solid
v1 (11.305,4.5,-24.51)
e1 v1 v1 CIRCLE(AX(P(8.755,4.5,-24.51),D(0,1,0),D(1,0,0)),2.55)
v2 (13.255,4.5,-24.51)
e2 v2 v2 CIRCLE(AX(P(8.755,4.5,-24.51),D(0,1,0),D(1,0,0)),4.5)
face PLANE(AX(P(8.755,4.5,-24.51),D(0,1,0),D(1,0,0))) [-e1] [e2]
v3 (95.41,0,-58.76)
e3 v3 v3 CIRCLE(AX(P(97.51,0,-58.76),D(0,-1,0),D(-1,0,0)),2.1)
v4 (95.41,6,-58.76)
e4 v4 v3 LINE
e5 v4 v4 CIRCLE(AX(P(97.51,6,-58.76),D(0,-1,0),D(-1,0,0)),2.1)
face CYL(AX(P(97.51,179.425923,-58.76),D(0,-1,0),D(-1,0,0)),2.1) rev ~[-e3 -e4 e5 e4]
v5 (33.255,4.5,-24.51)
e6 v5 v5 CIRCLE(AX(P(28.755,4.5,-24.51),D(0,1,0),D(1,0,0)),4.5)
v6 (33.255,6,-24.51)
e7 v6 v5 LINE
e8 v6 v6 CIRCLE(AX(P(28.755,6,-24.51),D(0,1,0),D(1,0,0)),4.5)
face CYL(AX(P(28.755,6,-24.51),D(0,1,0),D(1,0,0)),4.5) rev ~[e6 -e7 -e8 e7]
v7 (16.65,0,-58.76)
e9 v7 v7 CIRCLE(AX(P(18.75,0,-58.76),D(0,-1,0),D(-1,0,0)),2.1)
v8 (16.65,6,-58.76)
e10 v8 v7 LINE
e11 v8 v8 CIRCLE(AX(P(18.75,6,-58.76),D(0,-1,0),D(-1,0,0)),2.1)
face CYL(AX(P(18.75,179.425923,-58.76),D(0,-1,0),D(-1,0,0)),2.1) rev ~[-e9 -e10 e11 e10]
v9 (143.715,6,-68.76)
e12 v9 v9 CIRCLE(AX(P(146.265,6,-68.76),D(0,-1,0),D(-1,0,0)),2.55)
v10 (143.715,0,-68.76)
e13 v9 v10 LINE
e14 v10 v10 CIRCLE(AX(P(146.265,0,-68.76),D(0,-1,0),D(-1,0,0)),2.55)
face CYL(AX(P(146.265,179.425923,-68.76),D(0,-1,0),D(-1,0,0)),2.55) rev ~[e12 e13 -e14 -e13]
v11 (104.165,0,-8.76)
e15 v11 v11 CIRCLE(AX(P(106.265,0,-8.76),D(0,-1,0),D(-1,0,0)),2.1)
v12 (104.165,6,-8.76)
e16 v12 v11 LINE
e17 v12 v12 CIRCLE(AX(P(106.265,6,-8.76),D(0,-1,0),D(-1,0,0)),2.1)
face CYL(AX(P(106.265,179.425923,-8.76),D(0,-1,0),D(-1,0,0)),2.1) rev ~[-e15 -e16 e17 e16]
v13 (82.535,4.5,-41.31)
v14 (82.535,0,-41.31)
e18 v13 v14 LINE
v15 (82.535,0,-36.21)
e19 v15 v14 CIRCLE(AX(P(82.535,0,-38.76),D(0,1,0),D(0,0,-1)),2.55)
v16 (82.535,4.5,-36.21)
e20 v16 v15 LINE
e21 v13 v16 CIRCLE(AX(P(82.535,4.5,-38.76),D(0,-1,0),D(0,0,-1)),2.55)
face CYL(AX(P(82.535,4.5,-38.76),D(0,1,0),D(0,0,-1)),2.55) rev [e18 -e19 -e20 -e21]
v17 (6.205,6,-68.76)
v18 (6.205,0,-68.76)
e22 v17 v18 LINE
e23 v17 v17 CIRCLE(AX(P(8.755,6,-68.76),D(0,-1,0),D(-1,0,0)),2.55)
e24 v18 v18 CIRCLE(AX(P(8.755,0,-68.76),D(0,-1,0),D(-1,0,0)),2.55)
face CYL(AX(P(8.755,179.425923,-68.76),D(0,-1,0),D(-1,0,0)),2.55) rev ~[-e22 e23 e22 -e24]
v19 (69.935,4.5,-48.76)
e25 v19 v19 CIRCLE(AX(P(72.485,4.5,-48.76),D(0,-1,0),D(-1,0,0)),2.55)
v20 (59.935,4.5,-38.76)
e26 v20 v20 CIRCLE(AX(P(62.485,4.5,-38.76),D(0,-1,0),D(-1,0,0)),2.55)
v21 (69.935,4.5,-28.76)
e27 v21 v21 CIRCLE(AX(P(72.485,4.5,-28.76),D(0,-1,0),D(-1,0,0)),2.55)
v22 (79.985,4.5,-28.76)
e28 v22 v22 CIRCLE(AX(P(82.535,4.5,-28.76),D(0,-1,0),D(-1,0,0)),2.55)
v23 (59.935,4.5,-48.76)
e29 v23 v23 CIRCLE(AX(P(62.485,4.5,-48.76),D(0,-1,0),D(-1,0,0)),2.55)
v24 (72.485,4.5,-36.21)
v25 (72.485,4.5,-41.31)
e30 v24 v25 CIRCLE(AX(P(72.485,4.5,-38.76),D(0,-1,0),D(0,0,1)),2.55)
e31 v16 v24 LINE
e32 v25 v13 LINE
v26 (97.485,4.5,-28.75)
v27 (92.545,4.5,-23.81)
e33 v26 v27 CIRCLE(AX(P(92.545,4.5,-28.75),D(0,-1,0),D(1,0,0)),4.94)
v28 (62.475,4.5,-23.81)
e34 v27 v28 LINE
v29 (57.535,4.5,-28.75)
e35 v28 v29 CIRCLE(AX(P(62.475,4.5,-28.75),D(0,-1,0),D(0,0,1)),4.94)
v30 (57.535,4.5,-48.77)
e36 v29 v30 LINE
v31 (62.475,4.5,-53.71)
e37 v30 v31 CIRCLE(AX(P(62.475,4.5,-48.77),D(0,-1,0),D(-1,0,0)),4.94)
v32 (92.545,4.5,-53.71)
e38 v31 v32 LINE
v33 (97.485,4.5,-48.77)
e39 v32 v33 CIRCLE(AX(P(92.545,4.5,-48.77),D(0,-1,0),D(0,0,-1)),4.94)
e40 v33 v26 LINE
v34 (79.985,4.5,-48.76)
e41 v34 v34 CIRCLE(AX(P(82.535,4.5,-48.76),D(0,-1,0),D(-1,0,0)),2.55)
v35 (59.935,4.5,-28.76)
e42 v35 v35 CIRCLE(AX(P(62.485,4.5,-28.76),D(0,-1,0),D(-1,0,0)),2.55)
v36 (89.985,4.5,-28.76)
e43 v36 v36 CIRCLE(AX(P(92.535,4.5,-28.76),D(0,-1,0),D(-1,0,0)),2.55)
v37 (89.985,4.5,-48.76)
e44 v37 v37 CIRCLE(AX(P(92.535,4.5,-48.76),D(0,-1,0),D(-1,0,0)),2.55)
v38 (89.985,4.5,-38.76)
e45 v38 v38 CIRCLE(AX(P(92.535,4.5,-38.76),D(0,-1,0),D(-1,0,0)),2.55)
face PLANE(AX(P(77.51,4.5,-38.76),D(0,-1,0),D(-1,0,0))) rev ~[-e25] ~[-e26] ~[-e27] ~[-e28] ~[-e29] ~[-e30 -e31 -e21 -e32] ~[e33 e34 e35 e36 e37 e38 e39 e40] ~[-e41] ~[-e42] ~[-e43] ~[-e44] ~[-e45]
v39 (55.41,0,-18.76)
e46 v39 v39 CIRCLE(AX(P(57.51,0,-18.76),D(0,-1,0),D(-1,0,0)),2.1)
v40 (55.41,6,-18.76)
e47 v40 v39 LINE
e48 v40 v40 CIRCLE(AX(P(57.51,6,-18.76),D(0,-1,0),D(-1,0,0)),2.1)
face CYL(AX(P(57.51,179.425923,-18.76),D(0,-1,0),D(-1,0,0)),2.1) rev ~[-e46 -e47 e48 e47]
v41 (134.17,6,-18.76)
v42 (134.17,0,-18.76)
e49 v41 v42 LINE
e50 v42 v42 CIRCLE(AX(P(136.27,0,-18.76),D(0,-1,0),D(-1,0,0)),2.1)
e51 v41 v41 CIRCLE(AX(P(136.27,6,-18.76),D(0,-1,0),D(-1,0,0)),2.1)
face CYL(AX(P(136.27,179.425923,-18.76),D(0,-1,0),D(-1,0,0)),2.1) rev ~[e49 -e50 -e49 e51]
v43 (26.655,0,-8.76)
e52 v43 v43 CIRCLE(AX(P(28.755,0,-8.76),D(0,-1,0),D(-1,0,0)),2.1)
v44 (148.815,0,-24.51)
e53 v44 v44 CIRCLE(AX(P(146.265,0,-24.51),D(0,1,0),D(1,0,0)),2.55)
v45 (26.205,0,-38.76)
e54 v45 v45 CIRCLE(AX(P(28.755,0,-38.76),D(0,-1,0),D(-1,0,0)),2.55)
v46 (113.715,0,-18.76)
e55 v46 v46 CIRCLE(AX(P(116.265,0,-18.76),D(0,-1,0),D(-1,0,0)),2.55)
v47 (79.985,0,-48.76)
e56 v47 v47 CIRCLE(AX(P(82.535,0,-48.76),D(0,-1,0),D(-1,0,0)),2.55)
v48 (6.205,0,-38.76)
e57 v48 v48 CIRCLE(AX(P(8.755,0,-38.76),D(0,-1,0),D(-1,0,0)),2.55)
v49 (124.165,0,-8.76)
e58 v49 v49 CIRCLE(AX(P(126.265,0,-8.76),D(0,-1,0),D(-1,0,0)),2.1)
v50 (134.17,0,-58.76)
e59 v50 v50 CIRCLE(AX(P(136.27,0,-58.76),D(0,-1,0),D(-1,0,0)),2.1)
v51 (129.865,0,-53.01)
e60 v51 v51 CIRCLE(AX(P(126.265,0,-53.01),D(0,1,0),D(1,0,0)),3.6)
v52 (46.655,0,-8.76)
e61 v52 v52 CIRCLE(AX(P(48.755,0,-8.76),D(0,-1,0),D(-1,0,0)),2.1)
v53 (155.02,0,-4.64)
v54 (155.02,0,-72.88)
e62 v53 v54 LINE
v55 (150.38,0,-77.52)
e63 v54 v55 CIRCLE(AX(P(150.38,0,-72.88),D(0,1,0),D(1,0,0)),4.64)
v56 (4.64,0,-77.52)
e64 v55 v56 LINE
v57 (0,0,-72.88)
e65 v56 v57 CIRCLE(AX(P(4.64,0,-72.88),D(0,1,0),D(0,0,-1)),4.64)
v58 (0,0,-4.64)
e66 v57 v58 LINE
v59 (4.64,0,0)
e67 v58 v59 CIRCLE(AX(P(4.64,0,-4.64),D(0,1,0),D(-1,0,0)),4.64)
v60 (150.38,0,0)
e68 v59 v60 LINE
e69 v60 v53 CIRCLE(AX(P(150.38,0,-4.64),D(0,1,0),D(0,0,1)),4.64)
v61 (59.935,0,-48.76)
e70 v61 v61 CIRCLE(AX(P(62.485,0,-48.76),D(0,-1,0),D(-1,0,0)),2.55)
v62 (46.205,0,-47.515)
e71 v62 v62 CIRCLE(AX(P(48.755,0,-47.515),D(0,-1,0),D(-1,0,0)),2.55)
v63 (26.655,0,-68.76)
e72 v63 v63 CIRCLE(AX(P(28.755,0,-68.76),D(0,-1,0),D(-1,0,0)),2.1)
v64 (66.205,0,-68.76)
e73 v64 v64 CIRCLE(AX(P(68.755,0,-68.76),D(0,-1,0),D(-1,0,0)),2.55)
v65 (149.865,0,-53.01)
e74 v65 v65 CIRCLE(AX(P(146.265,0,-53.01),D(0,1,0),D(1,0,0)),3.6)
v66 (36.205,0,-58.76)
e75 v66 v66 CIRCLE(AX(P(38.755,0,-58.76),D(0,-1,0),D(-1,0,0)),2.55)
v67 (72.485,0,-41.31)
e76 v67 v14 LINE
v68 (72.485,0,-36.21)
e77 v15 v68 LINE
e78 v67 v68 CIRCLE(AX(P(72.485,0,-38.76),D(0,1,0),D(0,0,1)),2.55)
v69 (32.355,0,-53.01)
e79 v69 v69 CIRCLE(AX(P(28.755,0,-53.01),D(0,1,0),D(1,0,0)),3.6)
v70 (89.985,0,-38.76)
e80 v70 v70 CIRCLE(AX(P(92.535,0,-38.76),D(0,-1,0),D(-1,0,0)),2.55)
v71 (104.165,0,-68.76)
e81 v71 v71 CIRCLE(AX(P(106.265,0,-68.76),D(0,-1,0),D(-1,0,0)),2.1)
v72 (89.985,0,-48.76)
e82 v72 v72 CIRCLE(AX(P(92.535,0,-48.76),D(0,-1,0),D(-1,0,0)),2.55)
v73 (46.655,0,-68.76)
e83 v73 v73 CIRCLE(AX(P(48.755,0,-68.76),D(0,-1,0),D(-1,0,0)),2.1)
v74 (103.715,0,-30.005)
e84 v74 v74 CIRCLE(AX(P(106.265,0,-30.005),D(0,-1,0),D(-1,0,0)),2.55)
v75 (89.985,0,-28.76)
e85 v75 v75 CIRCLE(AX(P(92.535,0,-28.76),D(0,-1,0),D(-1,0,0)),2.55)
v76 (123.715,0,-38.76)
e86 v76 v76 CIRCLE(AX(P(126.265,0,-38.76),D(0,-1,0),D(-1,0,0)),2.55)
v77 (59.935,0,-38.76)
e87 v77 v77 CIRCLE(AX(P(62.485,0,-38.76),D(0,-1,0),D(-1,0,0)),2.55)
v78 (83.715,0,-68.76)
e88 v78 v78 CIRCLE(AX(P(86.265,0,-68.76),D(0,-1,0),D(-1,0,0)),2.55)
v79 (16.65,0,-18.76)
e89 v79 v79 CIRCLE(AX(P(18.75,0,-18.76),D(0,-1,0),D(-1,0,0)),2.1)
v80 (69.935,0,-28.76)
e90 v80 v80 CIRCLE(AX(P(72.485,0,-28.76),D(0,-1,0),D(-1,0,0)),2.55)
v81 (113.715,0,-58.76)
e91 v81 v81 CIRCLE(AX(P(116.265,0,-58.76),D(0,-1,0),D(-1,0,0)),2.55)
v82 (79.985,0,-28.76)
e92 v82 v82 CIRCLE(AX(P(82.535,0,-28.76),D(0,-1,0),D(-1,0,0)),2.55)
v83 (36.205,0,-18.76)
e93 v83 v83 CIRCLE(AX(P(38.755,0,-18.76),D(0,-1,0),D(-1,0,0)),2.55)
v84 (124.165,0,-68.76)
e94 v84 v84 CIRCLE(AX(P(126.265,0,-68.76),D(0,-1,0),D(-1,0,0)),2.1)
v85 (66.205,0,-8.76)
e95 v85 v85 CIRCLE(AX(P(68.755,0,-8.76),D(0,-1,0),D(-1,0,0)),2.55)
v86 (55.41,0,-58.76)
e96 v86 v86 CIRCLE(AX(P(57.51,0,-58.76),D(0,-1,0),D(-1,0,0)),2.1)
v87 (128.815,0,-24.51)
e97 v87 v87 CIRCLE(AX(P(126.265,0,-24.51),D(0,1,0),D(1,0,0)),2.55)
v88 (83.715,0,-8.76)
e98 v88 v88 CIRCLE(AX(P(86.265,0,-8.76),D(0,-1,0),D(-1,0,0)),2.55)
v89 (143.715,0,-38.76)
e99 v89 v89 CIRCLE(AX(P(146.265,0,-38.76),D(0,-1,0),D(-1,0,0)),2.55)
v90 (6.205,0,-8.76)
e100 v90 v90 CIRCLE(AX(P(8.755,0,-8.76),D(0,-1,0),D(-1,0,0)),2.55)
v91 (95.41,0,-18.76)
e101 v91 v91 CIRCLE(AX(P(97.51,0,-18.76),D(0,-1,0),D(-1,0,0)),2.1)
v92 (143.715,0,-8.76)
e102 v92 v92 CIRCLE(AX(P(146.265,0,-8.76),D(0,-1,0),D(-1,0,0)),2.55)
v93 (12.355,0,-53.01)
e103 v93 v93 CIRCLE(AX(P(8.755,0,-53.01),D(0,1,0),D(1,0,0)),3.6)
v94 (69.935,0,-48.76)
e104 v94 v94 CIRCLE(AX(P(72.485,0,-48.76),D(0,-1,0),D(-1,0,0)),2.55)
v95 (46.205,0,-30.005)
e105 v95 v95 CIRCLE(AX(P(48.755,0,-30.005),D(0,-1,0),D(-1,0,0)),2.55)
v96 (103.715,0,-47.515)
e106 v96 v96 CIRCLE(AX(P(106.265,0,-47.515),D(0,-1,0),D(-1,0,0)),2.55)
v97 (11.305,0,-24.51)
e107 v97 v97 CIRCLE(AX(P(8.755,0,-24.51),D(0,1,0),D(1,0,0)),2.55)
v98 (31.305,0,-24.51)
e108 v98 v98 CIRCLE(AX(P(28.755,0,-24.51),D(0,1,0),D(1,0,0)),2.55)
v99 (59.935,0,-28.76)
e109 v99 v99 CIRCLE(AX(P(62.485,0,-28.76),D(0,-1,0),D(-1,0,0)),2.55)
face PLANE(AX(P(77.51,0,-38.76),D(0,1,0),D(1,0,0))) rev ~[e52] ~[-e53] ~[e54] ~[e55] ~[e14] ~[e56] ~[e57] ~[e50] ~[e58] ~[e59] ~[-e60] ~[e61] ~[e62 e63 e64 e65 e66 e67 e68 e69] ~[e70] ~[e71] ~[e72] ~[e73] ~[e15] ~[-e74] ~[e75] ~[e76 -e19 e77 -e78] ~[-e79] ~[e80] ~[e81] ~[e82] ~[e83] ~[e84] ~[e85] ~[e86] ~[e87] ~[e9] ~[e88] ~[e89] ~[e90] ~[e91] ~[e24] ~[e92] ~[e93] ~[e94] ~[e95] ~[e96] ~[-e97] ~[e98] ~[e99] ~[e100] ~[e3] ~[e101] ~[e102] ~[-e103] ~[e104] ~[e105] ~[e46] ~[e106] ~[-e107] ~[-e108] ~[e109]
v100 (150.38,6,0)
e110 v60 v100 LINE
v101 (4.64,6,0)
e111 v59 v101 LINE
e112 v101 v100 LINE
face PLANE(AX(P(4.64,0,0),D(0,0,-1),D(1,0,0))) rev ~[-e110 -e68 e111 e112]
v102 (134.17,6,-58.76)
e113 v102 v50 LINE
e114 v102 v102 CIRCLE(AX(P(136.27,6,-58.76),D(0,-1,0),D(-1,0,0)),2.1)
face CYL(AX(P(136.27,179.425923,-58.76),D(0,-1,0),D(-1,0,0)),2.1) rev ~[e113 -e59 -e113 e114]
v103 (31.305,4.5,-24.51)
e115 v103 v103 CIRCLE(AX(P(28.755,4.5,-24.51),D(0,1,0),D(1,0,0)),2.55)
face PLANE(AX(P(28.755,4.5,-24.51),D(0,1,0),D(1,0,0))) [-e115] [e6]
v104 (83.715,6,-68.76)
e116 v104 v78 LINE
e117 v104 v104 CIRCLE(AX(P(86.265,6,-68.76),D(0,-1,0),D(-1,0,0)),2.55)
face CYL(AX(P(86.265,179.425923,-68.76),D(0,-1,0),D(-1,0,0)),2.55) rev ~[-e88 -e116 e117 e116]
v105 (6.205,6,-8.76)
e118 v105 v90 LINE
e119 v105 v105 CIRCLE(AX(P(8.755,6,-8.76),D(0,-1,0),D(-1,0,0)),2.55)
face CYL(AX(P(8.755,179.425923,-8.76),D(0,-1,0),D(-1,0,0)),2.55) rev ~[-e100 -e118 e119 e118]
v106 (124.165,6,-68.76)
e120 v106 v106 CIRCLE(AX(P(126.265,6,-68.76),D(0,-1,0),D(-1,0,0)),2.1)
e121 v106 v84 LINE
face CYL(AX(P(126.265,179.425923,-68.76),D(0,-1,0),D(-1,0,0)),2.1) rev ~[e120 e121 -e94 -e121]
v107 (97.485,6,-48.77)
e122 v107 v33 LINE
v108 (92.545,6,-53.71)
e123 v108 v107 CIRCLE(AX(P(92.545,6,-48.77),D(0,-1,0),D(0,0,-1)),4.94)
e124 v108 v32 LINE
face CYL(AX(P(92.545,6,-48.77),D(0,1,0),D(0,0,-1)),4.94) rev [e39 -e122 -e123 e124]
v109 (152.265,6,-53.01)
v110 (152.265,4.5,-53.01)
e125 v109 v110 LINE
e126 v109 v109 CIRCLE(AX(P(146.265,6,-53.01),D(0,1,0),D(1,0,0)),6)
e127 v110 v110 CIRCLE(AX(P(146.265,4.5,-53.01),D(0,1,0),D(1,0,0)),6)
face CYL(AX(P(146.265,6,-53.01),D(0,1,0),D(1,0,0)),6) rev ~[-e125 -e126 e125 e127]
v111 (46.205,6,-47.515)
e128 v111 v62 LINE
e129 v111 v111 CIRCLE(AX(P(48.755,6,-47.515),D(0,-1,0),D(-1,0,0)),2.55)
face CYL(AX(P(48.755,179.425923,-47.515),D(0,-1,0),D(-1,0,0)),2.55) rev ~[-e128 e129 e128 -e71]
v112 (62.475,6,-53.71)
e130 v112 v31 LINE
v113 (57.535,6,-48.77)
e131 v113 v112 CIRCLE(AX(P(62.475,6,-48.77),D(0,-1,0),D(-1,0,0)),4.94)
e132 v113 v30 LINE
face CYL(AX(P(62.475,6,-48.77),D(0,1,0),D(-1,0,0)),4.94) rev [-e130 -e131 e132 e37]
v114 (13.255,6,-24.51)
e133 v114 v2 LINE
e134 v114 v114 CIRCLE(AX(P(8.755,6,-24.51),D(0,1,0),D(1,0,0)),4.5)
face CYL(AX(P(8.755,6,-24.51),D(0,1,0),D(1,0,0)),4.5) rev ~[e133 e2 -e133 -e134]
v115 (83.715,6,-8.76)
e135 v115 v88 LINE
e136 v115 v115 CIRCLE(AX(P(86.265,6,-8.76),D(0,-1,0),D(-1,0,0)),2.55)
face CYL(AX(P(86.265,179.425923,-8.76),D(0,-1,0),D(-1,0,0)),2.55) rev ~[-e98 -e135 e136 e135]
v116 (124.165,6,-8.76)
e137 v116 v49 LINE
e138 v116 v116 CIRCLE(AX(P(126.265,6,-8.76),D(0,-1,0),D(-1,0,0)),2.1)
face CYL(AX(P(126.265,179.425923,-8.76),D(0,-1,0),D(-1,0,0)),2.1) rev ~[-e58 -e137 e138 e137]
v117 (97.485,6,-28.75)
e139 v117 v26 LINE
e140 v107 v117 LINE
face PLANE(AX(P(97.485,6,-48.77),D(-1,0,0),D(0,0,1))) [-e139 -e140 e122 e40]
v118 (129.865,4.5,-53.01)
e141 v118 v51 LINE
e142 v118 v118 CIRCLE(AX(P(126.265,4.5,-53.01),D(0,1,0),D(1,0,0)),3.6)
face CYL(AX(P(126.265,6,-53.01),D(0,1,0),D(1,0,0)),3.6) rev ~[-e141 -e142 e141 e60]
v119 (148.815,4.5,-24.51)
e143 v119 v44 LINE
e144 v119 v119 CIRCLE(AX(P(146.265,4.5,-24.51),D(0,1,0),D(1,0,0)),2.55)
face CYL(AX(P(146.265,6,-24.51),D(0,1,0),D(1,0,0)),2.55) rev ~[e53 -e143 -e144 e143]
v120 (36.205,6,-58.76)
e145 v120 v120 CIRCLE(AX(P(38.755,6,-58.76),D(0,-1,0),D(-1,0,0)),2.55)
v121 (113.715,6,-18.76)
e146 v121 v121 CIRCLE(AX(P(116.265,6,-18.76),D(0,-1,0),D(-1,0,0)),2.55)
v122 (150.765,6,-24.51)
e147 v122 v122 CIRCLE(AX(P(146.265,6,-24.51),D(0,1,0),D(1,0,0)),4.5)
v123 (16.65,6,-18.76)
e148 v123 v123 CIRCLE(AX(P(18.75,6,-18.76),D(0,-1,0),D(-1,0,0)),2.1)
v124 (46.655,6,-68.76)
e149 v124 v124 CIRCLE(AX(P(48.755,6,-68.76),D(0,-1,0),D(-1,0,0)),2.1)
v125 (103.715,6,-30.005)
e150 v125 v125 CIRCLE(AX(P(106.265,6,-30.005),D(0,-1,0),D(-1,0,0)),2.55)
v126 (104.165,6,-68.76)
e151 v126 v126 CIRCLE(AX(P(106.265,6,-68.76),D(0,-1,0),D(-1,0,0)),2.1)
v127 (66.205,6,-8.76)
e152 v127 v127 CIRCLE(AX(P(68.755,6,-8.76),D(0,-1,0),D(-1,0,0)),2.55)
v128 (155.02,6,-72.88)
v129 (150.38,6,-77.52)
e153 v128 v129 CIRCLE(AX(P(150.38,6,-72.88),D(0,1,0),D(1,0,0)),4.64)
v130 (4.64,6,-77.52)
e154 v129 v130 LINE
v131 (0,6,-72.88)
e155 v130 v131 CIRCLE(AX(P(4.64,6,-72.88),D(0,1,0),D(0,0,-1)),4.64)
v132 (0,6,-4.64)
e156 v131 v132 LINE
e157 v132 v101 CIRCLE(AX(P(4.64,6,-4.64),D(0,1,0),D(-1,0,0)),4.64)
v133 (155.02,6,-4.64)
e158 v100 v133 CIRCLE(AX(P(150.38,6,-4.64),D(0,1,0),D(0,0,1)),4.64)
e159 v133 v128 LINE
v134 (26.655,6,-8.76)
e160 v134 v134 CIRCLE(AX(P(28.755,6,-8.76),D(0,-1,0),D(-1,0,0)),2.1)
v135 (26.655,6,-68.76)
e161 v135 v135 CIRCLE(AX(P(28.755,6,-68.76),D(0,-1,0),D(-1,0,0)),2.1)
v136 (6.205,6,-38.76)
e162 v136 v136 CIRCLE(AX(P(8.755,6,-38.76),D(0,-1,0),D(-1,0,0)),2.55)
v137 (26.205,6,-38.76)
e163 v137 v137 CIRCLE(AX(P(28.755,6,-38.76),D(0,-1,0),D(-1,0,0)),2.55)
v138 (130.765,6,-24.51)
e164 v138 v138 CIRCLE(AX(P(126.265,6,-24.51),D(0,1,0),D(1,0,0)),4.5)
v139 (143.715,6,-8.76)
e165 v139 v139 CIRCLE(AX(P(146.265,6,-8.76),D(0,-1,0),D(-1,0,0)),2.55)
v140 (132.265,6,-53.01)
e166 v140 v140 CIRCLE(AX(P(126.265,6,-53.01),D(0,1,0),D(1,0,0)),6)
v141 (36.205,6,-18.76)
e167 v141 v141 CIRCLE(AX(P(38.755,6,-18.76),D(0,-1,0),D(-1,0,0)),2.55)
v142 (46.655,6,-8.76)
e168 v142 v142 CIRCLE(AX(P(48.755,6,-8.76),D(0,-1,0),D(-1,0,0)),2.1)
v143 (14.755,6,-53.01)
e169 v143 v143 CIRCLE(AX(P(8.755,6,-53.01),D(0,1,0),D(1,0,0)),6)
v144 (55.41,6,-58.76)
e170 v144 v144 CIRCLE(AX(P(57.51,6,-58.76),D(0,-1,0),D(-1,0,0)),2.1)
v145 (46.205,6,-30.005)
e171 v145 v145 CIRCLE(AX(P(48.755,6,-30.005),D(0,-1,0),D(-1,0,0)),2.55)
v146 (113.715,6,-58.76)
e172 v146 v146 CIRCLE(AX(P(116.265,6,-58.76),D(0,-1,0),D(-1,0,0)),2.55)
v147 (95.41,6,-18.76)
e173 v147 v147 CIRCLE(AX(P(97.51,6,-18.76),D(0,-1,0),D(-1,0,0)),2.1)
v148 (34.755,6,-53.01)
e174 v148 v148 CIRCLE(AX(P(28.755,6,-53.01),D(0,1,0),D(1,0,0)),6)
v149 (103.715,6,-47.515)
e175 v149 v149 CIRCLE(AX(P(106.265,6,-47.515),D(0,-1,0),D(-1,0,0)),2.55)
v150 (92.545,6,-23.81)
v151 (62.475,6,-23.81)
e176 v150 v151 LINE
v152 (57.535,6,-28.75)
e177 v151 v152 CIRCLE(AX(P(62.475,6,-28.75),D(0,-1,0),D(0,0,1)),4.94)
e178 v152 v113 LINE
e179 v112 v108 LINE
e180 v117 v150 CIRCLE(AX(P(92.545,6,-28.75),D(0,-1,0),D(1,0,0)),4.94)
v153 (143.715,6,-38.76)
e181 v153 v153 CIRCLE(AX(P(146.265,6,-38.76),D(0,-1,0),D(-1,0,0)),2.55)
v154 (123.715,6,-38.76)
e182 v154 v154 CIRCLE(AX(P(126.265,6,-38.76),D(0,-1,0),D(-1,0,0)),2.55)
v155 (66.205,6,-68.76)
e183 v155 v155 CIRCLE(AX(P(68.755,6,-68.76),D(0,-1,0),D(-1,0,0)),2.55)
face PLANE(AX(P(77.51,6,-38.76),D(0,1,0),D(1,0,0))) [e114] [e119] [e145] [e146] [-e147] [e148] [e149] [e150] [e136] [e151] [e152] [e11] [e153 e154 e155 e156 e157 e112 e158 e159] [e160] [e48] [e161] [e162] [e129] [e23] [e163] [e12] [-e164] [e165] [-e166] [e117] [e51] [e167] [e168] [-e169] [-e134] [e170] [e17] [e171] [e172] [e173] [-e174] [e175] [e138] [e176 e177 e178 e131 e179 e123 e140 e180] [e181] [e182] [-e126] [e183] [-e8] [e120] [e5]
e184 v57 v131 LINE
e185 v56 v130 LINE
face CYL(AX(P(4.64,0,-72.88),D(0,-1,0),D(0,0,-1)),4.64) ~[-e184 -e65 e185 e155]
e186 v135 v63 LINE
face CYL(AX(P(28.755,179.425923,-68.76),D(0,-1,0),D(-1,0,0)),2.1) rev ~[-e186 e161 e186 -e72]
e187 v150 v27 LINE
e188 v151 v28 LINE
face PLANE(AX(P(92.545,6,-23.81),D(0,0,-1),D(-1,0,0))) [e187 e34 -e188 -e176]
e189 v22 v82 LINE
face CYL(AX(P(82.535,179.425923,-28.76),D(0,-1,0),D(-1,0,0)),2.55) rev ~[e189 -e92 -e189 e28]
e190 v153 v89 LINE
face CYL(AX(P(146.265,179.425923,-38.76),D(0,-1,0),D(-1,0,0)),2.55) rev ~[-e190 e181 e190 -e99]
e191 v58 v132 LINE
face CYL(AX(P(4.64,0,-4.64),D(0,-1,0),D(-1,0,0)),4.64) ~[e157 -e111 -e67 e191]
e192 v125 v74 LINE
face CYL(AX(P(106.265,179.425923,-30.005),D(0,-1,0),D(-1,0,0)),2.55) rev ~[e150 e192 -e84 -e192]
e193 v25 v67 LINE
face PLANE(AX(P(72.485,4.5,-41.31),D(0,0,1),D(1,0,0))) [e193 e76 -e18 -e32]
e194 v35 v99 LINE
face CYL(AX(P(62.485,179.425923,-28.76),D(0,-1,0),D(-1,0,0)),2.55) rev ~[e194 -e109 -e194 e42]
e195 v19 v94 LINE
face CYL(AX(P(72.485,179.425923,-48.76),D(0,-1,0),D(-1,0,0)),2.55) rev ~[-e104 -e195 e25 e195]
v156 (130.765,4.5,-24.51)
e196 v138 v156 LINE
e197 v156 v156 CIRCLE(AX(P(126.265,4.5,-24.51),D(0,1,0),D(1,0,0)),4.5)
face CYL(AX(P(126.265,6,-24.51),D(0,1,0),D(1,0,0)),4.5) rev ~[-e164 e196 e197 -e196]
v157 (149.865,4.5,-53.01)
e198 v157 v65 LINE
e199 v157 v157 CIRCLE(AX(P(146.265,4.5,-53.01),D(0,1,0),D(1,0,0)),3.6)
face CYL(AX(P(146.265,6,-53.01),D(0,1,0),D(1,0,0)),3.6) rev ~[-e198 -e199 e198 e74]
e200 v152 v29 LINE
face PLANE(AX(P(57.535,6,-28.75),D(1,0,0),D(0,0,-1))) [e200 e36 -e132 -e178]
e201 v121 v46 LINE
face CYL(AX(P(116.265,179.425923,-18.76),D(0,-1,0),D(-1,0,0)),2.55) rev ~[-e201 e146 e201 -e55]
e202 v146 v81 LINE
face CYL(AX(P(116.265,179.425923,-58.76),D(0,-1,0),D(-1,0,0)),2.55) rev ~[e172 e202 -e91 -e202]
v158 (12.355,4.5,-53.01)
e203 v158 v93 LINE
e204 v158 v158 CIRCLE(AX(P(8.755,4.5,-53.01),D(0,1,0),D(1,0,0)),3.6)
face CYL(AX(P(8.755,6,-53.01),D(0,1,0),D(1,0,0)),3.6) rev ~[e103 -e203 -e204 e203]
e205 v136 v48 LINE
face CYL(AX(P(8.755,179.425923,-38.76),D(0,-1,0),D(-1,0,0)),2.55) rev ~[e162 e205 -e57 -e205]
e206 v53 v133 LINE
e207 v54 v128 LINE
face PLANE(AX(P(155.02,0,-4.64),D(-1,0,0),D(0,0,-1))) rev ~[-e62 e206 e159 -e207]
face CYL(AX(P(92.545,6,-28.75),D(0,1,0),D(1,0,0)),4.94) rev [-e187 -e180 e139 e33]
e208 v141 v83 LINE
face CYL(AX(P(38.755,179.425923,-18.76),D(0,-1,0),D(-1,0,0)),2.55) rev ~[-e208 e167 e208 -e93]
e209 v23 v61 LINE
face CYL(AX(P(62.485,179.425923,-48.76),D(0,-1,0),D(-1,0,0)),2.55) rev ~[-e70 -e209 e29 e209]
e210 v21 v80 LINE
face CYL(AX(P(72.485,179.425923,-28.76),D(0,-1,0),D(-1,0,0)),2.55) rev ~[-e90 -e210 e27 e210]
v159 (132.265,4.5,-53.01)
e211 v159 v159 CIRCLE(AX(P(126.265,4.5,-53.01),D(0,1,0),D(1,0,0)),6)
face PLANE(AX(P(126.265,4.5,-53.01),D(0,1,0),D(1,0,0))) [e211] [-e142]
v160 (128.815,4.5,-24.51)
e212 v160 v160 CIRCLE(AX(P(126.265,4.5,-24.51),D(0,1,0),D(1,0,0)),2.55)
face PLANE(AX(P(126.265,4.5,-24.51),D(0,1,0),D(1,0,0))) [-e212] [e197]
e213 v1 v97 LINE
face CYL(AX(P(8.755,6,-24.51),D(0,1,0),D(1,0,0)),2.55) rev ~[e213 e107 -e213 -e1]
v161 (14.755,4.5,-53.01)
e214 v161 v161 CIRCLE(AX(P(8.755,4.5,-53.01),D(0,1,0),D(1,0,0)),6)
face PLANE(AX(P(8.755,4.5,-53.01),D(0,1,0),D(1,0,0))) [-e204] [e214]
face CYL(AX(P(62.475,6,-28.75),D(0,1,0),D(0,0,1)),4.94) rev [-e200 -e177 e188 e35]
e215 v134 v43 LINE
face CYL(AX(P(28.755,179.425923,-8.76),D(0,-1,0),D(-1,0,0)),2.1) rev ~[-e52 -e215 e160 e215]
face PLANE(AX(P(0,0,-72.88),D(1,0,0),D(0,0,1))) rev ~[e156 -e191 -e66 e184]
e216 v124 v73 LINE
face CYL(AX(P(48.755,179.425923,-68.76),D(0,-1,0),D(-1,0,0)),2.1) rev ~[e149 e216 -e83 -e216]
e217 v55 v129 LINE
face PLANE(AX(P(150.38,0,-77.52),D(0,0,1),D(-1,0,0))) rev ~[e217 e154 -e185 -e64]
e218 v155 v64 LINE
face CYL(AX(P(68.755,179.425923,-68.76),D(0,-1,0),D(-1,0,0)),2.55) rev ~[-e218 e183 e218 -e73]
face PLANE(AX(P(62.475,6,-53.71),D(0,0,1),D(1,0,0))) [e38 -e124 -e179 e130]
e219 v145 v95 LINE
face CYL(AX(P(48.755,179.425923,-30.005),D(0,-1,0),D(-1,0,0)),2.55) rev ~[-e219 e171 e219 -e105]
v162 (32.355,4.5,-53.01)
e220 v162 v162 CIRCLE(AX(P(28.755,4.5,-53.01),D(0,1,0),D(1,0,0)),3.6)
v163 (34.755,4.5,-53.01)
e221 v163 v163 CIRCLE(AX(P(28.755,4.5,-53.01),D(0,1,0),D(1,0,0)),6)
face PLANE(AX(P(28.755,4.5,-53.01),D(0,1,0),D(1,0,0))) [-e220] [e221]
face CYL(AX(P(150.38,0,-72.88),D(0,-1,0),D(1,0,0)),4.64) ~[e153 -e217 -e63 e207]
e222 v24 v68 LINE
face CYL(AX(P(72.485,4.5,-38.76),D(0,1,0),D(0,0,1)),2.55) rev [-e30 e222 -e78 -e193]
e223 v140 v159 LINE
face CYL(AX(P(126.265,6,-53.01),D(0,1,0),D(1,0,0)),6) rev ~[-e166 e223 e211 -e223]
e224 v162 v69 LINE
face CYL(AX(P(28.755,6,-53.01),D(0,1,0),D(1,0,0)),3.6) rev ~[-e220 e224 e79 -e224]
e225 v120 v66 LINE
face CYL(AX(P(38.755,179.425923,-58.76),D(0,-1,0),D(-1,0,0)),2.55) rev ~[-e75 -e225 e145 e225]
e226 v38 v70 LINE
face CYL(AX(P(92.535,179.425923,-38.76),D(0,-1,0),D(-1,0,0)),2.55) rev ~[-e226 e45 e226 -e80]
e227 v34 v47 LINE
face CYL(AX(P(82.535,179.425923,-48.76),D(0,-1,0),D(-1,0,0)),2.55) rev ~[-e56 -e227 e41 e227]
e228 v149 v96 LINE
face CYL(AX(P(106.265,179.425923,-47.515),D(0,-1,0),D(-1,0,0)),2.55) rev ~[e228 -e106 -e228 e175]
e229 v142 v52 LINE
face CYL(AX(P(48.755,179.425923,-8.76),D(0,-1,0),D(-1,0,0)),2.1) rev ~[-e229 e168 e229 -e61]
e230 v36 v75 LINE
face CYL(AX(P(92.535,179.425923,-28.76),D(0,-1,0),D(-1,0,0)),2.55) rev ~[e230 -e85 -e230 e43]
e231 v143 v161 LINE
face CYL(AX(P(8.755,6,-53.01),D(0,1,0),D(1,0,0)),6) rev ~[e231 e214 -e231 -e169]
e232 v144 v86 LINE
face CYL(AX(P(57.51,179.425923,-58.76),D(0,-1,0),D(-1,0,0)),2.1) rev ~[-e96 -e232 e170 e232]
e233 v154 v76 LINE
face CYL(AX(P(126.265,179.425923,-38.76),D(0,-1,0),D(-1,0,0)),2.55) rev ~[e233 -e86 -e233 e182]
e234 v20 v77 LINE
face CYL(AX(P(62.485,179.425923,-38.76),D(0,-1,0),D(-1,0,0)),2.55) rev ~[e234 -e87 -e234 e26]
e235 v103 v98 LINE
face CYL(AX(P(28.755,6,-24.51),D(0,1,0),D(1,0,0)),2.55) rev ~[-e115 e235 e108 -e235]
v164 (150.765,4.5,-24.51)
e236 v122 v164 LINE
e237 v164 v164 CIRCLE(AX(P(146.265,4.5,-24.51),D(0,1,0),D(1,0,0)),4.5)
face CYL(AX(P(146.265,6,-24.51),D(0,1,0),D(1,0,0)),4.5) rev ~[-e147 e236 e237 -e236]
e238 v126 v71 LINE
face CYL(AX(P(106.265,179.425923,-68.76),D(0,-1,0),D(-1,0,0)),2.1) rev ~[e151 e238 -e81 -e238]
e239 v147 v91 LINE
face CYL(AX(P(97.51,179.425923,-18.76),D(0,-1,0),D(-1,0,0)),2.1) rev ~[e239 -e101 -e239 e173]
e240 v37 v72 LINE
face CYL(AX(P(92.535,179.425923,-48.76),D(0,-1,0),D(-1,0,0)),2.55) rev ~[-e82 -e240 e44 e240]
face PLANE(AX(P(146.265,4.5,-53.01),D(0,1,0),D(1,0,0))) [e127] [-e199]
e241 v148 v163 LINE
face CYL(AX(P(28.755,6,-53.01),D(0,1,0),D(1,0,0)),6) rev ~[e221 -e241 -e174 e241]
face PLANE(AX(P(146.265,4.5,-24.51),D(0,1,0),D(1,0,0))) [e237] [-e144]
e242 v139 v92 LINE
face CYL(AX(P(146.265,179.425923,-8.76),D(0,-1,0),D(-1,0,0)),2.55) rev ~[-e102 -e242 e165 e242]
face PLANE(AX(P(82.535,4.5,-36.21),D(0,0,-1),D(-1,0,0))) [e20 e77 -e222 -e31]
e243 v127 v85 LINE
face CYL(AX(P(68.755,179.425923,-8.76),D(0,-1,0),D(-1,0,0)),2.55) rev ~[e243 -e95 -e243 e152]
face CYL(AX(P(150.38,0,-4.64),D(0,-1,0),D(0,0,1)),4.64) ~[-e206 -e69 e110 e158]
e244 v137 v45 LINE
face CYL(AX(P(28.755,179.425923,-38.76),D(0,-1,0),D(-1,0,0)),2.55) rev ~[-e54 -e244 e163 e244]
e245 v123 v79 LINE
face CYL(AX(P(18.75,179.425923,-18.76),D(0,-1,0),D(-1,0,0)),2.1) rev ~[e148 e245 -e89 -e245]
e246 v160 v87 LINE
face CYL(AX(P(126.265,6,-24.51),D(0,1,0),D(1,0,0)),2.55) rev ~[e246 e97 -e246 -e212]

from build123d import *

# Parameters (mm, degrees)
BOSS_EXTRUDE1_DEPTH        = 6
F_5_1_5_1_DIAMETER_HOLE1_D = 5.1
M5X0_8_TAPPED_HOLE1_D      = 4.2
SKETCH6_R                  = 3.6
SKETCH6_R_2                = 2.55
CUT_EXTRUDE1_DEPTH         = 7
SKETCH7_R                  = 6
SKETCH7_R_2                = 4.5
CUT_EXTRUDE2_DEPTH         = 1.5
CUT_EXTRUDE3_DEPTH         = 5.5


with BuildPart() as part:
    # Sketch1 → Boss-Extrude1 (new body)
    with BuildSketch(Plane(origin=(0, 0, 0), x_dir=(1, 0, 0), z_dir=(0, 1, 0))):
        with BuildLine():
            Line((4.64, 0), (150.38, 0))
            ThreePointArc((150.38, 0), (153.660975465, 1.359024535), (155.02, 4.64))
            Line((155.02, 4.64), (155.02, 72.88))
            ThreePointArc((155.02, 72.88), (153.660975465, 76.160975465), (150.38, 77.52))
            Line((150.38, 77.52), (4.64, 77.52))
            ThreePointArc((4.64, 77.52), (1.359024535, 76.160975465), (0, 72.88))
            Line((0, 72.88), (0, 4.64))
            ThreePointArc((0, 4.64), (1.359024535, 1.359024535), (4.64, 0))
        make_face()
    extrude(amount=BOSS_EXTRUDE1_DEPTH)

    # Ø5.1 (5.1) Diameter Hole1 (through all)
    with Locations(Plane(origin=(0, 6, 0), x_dir=(1, 0, 0), z_dir=(0, 1, 0))):
        with Locations((8.755, 68.76), (8.755, 38.76), (28.755, 38.76), (38.755, 58.76), (48.755, 47.515), (68.755, 68.76), (62.485, 48.76), (72.485, 48.76), (62.485, 38.76), (92.535, 38.76), (82.535, 48.76), (92.535, 48.76), (86.265, 68.76), (106.265, 47.515), (116.265, 58.76), (126.265, 38.76), (146.265, 38.76), (146.265, 68.76), (146.265, 8.76), (116.265, 18.76), (106.265, 30.005), (92.535, 28.76), (82.535, 28.76), (86.265, 8.76), (68.755, 8.76), (72.485, 28.76), (62.485, 28.76), (48.755, 30.005), (38.755, 18.76), (8.755, 8.76)):
            Hole(F_5_1_5_1_DIAMETER_HOLE1_D / 2)

    # M5x0.8 Tapped Hole1 (through all)
    with Locations(Plane(origin=(0, 6, 0), x_dir=(1, 0, 0), z_dir=(0, 1, 0))):
        with Locations((18.75, 58.76), (28.755, 68.76), (48.755, 68.76), (57.51, 58.76), (48.755, 8.76), (57.51, 18.76), (18.75, 18.76), (28.755, 8.76), (106.265, 68.76), (97.51, 58.76), (97.51, 18.76), (106.265, 8.76), (126.265, 8.76), (136.27, 18.76), (126.265, 68.76), (136.27, 58.76)):
            Hole(M5X0_8_TAPPED_HOLE1_D / 2)

    # Sketch6 → Cut-Extrude1 (cut, through all)
    with BuildSketch(Plane(origin=(0, 6, 0), x_dir=(1, 0, 0), z_dir=(0, 1, 0))):
        with Locations((8.755, 53.01)):
            Circle(SKETCH6_R)
        with Locations((28.755, 53.01)):
            Circle(SKETCH6_R)
        with Locations((8.755, 24.51)):
            Circle(SKETCH6_R_2)
        with Locations((28.755, 24.51)):
            Circle(SKETCH6_R_2)
        with Locations((126.265, 24.51)):
            Circle(SKETCH6_R_2)
        with Locations((146.265, 24.51)):
            Circle(SKETCH6_R_2)
        with Locations((126.265, 53.01)):
            Circle(SKETCH6_R)
        with Locations((146.265, 53.01)):
            Circle(SKETCH6_R)
    extrude(amount=-CUT_EXTRUDE1_DEPTH, mode=Mode.SUBTRACT)

    # Sketch7 → Cut-Extrude2 (cut)
    with BuildSketch(Plane(origin=(0, 6, 0), x_dir=(1, 0, 0), z_dir=(0, 1, 0))):
        with Locations((8.755, 53.01)):
            Circle(SKETCH7_R)
        with Locations((28.755, 53.01)):
            Circle(SKETCH7_R)
        with Locations((8.755, 24.51)):
            Circle(SKETCH7_R_2)
        with Locations((28.755, 24.51)):
            Circle(SKETCH7_R_2)
        with Locations((126.265, 24.51)):
            Circle(SKETCH7_R_2)
        with Locations((146.265, 24.51)):
            Circle(SKETCH7_R_2)
        with Locations((126.265, 53.01)):
            Circle(SKETCH7_R)
        with Locations((146.265, 53.01)):
            Circle(SKETCH7_R)
        with BuildLine():
            Line((62.475, 53.71), (92.545, 53.71))
            ThreePointArc((92.545, 53.71), (96.038107499, 52.263107499), (97.485, 48.77))
            Line((97.485, 48.77), (97.485, 28.75))
            ThreePointArc((97.485, 28.75), (96.038107499, 25.256892501), (92.545, 23.81))
            Line((92.545, 23.81), (62.475, 23.81))
            ThreePointArc((62.475, 23.81), (58.981892501, 25.256892501), (57.535, 28.75))
            Line((57.535, 28.75), (57.535, 48.77))
            ThreePointArc((57.535, 48.77), (58.981892501, 52.263107499), (62.475, 53.71))
        make_face()
    extrude(amount=-CUT_EXTRUDE2_DEPTH, mode=Mode.SUBTRACT)

    # Sketch8 → Cut-Extrude3 (cut, through all)
    with BuildSketch(Plane(origin=(0, 4.5, 0), x_dir=(1, 0, 0), z_dir=(0, 1, 0))):
        with BuildLine():
            Line((72.485, 41.31), (82.535, 41.31))
            ThreePointArc((82.535, 41.31), (85.085, 38.76), (82.535, 36.21))
            Line((82.535, 36.21), (72.485, 36.21))
            ThreePointArc((72.485, 36.21), (69.935, 38.76), (72.485, 41.31))
        make_face()
    extrude(amount=-CUT_EXTRUDE3_DEPTH, mode=Mode.SUBTRACT)


solid = part.part
